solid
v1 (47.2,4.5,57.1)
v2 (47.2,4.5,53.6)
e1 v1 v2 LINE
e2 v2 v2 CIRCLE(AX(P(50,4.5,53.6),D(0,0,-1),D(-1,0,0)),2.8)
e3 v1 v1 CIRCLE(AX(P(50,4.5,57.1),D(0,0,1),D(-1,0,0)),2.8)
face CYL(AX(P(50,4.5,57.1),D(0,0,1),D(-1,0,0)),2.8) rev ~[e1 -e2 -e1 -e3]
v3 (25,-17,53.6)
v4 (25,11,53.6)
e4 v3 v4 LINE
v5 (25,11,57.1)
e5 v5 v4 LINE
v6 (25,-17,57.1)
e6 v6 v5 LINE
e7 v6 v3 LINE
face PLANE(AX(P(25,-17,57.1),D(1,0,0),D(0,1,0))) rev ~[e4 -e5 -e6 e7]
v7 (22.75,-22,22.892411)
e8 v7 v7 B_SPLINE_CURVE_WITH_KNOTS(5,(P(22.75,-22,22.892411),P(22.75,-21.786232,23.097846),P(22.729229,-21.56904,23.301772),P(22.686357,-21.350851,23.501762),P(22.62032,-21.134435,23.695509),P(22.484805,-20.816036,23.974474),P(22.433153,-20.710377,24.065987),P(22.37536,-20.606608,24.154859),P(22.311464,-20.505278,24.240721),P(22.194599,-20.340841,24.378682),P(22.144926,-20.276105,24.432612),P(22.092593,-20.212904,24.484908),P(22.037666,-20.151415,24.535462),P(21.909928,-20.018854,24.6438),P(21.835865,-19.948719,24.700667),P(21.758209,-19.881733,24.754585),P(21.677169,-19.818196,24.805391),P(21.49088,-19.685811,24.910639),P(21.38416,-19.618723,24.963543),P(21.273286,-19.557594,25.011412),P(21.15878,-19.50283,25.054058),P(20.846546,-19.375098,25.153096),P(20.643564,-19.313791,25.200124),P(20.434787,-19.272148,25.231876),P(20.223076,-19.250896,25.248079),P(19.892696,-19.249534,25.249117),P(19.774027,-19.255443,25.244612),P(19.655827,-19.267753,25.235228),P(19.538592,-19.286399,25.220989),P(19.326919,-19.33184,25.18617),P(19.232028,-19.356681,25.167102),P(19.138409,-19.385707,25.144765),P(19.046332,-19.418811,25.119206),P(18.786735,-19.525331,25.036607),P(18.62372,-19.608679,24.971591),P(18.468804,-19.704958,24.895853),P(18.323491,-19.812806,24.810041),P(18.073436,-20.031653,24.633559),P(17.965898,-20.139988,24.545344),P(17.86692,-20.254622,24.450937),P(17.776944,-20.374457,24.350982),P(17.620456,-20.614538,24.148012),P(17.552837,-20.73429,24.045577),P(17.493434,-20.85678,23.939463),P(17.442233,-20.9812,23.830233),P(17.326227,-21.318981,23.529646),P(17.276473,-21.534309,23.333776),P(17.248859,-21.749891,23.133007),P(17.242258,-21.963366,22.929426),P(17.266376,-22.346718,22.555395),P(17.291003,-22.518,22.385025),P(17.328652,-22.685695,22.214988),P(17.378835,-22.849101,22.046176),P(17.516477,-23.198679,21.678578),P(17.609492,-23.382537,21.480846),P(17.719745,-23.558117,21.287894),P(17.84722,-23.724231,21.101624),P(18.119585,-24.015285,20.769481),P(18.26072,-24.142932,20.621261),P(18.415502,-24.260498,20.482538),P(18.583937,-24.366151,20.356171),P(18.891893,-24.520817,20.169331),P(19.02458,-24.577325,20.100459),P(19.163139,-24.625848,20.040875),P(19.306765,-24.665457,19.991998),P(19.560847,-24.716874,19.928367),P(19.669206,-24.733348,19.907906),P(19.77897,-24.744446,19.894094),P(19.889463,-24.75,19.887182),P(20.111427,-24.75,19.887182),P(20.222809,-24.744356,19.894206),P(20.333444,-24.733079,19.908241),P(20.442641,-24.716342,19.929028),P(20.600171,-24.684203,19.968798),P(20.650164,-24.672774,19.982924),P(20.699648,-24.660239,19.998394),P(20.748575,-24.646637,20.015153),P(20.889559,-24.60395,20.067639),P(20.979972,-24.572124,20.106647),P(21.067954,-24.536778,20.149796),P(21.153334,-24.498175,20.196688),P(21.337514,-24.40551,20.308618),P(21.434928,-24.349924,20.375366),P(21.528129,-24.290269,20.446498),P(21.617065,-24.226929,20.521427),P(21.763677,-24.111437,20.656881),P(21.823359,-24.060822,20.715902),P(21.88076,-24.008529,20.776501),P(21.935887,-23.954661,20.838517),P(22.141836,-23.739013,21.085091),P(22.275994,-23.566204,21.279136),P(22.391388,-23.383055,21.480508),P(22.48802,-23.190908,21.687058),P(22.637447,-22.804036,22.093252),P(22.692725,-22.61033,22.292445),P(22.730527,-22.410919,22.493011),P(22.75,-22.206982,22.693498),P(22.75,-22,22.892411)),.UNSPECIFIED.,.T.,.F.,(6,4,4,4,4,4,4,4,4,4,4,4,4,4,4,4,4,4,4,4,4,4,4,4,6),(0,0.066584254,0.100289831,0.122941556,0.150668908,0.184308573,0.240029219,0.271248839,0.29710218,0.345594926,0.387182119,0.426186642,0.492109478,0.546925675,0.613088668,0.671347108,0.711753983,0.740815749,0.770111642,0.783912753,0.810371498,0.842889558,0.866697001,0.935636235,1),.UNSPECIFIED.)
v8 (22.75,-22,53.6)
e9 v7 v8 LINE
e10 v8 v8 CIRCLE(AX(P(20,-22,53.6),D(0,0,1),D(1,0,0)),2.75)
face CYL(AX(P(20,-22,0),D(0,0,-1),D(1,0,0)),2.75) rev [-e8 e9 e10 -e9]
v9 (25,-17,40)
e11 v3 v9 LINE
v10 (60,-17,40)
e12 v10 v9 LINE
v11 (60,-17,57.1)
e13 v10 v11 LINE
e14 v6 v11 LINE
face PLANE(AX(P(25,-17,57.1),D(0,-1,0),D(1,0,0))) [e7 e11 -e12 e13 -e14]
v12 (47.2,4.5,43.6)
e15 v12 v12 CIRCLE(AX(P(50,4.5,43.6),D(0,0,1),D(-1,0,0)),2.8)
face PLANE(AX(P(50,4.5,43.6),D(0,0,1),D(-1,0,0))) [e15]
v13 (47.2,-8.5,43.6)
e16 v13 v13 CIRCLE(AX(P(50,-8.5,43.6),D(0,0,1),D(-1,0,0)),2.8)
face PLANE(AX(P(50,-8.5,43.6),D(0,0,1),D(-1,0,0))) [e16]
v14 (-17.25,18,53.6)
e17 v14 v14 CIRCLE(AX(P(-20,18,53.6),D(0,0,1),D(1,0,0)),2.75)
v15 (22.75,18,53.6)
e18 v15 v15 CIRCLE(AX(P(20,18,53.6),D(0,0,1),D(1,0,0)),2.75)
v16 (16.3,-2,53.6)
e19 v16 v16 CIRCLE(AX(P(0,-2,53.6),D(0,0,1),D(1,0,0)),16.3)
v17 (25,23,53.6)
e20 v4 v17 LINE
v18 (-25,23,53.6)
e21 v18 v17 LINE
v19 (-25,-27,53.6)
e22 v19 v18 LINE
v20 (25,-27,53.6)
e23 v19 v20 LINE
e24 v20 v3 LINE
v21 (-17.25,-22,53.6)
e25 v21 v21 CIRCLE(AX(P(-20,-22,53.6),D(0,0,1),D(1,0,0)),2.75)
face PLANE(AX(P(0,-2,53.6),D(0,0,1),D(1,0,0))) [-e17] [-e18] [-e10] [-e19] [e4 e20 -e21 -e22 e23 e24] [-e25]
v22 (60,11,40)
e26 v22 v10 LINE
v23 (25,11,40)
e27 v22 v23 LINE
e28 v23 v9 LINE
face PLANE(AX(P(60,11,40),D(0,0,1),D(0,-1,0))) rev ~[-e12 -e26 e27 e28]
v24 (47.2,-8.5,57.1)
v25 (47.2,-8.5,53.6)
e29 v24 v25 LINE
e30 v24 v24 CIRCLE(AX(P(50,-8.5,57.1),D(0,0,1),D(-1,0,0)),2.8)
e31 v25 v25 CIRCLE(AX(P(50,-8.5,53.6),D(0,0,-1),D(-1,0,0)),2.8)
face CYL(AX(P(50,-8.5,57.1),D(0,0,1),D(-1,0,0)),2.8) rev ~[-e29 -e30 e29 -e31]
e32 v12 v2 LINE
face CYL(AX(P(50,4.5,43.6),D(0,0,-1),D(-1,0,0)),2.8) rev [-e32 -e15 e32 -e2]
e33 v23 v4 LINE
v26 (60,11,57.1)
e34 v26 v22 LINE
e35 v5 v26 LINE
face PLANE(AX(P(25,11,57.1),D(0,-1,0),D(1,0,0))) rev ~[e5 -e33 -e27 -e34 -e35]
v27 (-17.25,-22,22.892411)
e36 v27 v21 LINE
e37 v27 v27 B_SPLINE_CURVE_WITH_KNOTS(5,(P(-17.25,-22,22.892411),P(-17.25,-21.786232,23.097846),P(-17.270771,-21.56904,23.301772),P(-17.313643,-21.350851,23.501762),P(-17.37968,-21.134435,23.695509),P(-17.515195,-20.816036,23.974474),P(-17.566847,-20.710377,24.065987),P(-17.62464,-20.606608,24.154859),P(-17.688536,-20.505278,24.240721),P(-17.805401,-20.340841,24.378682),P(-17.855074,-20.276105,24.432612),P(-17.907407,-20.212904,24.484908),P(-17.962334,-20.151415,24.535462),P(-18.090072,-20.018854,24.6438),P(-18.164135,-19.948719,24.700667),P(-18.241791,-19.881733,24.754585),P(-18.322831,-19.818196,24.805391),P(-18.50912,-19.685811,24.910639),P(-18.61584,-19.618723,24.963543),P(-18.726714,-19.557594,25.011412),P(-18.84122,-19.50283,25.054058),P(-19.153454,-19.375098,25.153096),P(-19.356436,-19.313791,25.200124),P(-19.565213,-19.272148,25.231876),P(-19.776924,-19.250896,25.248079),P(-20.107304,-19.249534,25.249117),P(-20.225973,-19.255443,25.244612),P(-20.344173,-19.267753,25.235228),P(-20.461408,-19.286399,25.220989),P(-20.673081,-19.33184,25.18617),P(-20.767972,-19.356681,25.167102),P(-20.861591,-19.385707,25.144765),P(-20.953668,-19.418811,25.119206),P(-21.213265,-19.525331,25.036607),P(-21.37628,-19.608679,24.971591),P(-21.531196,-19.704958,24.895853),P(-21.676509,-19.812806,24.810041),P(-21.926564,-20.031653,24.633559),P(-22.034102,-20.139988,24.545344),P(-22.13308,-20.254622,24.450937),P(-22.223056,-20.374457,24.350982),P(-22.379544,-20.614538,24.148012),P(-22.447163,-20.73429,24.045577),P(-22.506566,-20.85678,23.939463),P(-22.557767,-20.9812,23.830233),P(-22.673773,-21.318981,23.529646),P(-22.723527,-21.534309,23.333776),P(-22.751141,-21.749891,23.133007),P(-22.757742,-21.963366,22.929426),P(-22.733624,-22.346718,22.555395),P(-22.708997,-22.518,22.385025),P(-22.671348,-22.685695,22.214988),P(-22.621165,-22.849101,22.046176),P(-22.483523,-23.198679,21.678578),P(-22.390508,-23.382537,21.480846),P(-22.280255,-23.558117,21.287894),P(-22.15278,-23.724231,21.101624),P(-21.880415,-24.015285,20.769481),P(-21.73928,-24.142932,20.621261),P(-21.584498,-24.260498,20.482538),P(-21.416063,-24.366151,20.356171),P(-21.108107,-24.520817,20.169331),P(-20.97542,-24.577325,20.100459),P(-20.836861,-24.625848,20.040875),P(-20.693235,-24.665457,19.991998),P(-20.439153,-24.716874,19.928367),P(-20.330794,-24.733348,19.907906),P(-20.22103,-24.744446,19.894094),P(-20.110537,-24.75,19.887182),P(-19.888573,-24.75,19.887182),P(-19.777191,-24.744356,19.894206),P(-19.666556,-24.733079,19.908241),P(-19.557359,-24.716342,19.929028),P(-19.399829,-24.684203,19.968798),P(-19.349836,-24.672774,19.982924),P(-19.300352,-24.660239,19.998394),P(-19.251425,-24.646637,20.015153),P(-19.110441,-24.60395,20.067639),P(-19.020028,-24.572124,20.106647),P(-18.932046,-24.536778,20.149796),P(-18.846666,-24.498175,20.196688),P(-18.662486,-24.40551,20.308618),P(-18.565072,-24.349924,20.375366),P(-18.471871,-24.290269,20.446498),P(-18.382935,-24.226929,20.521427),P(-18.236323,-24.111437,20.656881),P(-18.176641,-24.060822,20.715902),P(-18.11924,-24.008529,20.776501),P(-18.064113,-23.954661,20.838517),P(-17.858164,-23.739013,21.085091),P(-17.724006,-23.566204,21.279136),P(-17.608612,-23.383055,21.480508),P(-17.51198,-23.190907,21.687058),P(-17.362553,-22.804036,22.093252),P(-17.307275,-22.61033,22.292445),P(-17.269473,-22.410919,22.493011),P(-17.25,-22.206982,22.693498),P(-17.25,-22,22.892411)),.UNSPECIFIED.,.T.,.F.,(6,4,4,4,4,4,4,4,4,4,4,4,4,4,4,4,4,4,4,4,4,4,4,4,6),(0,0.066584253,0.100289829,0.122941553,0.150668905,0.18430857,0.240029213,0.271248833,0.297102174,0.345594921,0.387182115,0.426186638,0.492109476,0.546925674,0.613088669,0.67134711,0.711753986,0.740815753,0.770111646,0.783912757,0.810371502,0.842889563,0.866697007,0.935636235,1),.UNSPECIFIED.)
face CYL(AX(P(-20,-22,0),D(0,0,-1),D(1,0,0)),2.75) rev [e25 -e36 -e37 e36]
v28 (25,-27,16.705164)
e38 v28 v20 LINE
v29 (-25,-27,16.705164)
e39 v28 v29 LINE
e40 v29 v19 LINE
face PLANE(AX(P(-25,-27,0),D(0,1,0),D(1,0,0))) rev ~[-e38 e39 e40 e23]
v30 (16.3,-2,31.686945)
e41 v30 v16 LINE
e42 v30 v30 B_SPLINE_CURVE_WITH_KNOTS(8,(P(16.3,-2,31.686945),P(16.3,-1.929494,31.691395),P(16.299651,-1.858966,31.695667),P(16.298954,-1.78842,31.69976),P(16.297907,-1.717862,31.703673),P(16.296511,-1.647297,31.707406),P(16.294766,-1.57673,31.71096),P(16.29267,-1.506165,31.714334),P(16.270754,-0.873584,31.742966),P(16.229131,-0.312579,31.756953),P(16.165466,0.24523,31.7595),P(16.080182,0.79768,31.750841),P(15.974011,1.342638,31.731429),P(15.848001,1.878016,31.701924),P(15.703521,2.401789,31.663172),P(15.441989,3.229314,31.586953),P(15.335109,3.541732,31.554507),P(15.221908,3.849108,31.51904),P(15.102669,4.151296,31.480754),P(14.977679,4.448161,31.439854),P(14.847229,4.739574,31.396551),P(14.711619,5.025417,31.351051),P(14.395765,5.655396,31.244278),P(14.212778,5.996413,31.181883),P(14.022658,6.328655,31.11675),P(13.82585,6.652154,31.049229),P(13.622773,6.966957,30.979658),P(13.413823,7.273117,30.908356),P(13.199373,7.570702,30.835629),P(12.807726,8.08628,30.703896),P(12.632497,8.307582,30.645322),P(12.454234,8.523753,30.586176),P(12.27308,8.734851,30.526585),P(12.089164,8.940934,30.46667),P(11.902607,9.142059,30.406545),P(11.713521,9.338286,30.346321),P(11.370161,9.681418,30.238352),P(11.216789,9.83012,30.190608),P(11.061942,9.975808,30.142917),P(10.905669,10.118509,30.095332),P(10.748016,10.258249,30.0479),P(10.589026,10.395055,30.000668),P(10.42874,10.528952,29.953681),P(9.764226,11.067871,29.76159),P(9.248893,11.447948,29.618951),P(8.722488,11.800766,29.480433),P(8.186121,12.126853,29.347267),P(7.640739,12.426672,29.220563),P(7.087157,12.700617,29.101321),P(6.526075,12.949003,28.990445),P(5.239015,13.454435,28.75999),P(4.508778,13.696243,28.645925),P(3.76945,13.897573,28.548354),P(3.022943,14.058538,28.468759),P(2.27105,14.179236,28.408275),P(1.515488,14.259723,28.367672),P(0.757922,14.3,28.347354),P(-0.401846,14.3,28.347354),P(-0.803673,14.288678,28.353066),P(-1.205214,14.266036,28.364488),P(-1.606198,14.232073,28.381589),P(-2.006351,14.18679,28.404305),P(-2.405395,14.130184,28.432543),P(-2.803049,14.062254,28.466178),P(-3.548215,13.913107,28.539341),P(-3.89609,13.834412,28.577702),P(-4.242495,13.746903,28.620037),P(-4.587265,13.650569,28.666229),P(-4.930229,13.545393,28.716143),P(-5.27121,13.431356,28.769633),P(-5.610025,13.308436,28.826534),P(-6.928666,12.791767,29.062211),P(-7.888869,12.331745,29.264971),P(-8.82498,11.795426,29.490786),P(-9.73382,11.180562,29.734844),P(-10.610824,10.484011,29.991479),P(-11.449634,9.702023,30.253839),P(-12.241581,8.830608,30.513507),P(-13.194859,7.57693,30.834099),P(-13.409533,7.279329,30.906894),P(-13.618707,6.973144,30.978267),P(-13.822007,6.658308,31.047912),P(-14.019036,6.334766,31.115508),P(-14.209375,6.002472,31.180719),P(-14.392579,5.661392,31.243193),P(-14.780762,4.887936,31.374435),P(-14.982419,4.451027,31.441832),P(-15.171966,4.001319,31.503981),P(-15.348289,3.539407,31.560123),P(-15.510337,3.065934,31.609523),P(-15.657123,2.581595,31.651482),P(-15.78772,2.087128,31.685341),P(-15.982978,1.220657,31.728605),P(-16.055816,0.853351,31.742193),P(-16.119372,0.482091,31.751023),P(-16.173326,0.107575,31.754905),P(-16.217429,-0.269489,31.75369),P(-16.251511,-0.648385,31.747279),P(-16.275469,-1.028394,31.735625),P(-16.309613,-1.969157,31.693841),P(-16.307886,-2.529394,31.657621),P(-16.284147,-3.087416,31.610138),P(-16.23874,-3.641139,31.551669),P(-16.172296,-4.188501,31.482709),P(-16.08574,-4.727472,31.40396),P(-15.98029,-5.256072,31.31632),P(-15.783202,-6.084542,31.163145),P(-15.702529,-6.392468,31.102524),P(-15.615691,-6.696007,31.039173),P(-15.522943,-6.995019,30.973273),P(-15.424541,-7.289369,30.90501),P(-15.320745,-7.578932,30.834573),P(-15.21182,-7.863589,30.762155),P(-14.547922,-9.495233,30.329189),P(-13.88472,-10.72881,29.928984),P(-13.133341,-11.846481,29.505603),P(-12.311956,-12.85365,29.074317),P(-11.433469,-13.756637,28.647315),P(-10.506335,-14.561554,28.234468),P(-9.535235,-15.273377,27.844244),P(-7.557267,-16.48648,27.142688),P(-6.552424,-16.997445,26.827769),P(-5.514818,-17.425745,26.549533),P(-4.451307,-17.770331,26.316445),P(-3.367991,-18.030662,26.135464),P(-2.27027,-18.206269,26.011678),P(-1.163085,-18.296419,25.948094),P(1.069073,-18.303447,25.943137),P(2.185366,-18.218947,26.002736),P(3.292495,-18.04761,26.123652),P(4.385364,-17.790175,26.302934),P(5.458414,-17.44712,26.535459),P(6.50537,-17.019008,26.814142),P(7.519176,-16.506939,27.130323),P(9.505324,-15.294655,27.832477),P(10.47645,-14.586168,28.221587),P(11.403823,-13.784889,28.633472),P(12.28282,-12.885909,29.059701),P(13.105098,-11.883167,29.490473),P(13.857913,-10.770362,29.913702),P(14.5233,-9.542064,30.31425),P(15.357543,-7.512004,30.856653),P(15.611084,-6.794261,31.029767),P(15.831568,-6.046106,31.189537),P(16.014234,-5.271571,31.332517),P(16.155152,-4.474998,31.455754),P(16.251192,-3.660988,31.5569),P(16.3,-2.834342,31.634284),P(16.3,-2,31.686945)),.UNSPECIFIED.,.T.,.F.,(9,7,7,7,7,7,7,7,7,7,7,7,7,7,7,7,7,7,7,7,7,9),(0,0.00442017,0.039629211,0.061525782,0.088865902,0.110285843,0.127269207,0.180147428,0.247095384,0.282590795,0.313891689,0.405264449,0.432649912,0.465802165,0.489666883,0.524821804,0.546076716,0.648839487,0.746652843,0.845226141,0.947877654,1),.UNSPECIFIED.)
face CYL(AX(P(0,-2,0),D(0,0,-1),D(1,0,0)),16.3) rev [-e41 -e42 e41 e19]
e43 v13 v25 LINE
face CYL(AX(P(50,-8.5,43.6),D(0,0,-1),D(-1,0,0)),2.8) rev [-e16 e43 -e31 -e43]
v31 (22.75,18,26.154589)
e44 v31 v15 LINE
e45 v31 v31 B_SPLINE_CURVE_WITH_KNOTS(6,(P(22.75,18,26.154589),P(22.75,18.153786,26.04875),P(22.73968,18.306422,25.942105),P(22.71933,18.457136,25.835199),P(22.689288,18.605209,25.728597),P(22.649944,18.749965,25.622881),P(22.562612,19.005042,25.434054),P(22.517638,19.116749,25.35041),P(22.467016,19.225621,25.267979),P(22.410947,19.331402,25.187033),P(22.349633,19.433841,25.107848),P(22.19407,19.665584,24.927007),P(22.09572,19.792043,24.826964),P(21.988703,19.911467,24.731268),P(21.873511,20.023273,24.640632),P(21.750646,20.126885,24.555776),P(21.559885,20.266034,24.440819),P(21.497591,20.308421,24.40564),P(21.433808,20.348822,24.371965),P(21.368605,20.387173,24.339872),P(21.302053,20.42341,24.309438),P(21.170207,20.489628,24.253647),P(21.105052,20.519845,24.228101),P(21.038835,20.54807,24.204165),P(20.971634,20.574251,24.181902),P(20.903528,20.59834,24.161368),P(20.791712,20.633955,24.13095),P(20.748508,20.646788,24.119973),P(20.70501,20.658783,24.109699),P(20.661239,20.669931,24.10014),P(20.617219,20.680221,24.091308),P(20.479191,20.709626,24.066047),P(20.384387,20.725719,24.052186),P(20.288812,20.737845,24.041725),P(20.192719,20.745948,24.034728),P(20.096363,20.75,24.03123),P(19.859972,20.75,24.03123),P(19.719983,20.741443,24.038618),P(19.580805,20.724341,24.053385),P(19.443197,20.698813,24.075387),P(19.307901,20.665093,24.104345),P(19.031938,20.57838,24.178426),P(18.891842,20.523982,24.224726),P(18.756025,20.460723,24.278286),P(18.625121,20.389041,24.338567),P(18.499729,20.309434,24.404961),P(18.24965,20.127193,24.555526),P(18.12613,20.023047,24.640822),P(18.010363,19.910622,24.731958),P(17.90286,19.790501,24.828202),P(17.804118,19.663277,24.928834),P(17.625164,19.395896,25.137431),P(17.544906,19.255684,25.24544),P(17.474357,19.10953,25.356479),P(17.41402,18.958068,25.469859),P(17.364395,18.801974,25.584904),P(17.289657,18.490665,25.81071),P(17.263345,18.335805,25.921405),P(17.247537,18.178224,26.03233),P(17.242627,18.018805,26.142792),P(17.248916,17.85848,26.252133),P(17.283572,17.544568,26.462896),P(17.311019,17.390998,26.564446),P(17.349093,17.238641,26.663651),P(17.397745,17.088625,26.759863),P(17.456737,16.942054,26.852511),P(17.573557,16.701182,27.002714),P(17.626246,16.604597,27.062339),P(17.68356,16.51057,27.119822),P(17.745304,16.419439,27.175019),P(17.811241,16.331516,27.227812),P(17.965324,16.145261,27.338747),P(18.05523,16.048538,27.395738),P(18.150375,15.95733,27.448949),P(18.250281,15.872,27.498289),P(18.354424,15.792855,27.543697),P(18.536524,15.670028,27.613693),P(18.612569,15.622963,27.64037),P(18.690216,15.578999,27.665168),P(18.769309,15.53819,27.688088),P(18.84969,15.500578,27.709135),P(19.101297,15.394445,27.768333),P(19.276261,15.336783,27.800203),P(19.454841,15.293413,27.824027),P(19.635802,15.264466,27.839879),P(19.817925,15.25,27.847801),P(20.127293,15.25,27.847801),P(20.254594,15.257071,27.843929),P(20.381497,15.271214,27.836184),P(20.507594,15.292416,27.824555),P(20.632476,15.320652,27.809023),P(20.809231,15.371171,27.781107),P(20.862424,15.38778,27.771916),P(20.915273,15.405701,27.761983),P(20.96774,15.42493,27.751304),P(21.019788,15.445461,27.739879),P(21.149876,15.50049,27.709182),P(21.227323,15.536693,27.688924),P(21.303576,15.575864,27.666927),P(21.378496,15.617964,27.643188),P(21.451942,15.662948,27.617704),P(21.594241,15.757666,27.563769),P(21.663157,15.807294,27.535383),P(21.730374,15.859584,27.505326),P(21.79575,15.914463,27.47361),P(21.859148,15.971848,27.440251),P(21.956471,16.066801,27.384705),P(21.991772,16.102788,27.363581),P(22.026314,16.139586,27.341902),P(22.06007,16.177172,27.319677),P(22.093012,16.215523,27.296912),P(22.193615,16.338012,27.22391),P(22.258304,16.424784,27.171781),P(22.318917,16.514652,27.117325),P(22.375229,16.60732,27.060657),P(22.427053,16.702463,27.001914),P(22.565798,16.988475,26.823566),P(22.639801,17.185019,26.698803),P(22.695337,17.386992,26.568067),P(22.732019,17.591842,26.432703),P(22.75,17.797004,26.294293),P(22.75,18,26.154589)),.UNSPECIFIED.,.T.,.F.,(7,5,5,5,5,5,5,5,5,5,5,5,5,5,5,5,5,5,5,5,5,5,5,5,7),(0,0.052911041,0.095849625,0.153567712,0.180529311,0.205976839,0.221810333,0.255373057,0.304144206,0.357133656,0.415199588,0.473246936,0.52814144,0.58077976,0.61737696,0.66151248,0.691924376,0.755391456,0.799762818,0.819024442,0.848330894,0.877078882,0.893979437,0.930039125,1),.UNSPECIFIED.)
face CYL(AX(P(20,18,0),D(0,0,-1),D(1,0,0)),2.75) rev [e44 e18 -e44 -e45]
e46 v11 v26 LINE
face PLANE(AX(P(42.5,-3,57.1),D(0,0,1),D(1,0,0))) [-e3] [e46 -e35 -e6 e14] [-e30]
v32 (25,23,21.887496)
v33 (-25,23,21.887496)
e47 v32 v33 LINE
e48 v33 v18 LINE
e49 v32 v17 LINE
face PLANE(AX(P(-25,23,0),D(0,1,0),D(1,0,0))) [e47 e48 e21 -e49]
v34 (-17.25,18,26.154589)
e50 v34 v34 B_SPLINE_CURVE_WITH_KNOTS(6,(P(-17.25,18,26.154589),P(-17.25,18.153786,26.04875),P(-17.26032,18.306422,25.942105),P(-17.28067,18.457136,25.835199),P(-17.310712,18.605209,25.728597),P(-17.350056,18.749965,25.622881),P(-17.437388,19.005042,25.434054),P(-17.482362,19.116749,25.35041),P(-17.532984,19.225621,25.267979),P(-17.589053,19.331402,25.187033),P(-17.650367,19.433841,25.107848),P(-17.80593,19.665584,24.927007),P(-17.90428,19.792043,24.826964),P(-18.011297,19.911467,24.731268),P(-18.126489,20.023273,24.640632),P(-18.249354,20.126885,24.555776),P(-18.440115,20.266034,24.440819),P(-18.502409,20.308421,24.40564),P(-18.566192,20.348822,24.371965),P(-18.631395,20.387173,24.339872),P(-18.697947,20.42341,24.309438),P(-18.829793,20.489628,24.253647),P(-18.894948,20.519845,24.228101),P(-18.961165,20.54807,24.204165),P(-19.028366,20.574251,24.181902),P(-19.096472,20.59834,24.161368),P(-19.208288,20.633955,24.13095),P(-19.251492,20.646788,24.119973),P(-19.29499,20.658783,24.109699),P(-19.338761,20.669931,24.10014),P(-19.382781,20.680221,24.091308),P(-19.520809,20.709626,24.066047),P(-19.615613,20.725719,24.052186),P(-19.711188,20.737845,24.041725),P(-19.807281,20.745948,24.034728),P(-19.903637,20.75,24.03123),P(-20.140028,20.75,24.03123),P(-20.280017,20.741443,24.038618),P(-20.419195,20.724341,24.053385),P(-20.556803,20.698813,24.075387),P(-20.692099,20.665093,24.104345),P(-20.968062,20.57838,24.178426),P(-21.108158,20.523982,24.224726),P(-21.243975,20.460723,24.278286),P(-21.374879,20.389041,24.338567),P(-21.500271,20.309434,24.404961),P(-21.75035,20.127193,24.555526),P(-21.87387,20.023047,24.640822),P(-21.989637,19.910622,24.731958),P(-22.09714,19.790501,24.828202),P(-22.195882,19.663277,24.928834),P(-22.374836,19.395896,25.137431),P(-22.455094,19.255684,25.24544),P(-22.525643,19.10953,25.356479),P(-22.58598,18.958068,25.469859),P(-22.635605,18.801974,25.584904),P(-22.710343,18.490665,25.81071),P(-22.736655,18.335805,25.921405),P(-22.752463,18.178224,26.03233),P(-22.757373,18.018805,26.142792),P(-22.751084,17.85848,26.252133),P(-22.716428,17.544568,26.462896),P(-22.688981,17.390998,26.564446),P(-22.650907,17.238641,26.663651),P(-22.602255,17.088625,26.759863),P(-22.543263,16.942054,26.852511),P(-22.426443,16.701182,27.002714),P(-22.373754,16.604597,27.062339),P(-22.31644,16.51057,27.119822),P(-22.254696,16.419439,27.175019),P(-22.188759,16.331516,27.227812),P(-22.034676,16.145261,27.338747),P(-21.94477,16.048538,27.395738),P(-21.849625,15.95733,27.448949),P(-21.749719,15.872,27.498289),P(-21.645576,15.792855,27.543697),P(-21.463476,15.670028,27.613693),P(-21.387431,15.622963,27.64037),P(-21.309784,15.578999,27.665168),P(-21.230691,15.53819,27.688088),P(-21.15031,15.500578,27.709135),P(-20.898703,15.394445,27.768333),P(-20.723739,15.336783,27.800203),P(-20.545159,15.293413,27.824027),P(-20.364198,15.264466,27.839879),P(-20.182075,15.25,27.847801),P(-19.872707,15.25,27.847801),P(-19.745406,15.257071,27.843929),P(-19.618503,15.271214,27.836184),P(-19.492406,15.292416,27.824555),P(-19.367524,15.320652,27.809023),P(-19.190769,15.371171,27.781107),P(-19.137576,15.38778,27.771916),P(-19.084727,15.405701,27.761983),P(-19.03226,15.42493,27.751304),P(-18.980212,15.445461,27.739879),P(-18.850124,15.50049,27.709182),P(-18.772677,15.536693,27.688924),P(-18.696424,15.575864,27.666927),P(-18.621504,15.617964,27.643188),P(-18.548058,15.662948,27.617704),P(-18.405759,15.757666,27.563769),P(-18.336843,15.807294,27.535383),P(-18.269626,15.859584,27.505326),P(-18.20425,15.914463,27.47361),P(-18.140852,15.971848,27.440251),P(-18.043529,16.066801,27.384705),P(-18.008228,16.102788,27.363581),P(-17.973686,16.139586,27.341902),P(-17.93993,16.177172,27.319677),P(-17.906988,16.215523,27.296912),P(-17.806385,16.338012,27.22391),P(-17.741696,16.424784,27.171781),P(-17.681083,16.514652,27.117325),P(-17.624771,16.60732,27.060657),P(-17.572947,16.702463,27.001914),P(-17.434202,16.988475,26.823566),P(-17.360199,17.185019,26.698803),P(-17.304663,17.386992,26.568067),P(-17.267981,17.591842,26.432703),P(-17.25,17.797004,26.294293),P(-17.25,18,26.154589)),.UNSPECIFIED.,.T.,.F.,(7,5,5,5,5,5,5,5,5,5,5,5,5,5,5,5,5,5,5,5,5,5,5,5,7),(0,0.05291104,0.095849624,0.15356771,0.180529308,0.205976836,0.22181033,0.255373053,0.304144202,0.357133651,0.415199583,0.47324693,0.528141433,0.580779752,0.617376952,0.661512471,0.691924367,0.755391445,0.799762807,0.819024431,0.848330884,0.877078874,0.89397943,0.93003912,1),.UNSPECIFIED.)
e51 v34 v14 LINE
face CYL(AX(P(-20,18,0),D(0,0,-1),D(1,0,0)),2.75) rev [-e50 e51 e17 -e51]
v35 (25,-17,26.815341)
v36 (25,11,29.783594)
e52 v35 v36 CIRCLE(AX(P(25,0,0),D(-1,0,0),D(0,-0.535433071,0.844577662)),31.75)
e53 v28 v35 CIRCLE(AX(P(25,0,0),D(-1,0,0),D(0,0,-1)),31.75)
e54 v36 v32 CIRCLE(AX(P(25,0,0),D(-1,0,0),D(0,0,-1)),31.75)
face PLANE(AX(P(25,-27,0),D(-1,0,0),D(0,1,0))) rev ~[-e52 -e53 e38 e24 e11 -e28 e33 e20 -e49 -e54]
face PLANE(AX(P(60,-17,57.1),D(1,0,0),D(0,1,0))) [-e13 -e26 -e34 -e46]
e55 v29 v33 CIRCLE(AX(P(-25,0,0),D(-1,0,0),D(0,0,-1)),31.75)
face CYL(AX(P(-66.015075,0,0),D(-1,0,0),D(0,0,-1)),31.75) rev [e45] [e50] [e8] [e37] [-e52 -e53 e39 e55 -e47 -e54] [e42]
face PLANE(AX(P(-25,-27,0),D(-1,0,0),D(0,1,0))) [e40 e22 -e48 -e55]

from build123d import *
from build123d.topology import SkipClean

# Parameters (mm, degrees)
SKETCH1_W               = 50
SKETCH1_H               = 50
SKETCH1_R               = 16.3
SKETCH1_R_2             = 2.75
BOSS_EXTRUDE1_DEPTH     = 53.6
CUT_EXTRUDE1_DEPTH      = 66.015075175
CUT_EXTRUDE1_DEPTH_BACK = 66.015075175
SKETCH2_R               = 31.75
BOSS_EXTRUDE3_START     = 35
BOSS_EXTRUDE3_DEPTH     = 35
CUT_EXTRUDE6_DEPTH      = 76.433606209
CUT_EXTRUDE6_DEPTH_BACK = 10
SKETCH10_R              = 2.8
CUT_EXTRUDE8_DEPTH      = 35
BOSS_EXTRUDE4_START     = 3.5
SKETCH16_W              = 35
SKETCH16_H              = 28
SKETCH16_R              = 2.8
BOSS_EXTRUDE4_DEPTH     = 3.5


with BuildPart() as part:
    # Sketch1 → Boss-Extrude1 (new body)
    with BuildSketch(Plane.XY):
        with Locations((0, -2)):
            Rectangle(SKETCH1_W, SKETCH1_H)
        with Locations((0, -2)):
            Circle(SKETCH1_R, mode=Mode.SUBTRACT)
        with Locations((-20, 18)):
            Circle(SKETCH1_R_2, mode=Mode.SUBTRACT)
        with Locations((20, 18)):
            Circle(SKETCH1_R_2, mode=Mode.SUBTRACT)
        with Locations((20, -22)):
            Circle(SKETCH1_R_2, mode=Mode.SUBTRACT)
        with Locations((-20, -22)):
            Circle(SKETCH1_R_2, mode=Mode.SUBTRACT)
    extrude(amount=BOSS_EXTRUDE1_DEPTH)

    # Sketch2 → Cut-Extrude1 (cut, two sides: drawn at the far end of the back side and taken through both)
    with BuildSketch(Plane(origin=(0, 0, 0), x_dir=(0, 0, -1), z_dir=(1, 0, 0)).offset(-CUT_EXTRUDE1_DEPTH_BACK)):
        Circle(SKETCH2_R)
    extrude(amount=CUT_EXTRUDE1_DEPTH + CUT_EXTRUDE1_DEPTH_BACK, mode=Mode.SUBTRACT)

    # Sketch4 → Boss-Extrude3 (add)
    with SkipClean():  # the faces are left unmerged after this step: merging them gives an invalid solid
        with BuildSketch(Plane(origin=(25, 0, 0), x_dir=(0, 0, -1), z_dir=(1, 0, 0)).offset(BOSS_EXTRUDE3_START)):
            with BuildLine():
                Line((-53.6, 11), (-53.6, -17))
                Line((-53.6, -17), (-26.815340759, -17))
                ThreePointArc((-26.815340759, -17), (-31.573087709, -3.347033393), (-29.783594477, 11))
                Line((-29.783594477, 11), (-53.6, 11))
            make_face()
        extrude(amount=-BOSS_EXTRUDE3_DEPTH)

    # Sketch10 → Cut-Extrude6 (cut, two sides: drawn at the far end of the back side and taken through both)
    with SkipClean():  # the faces are left unmerged after this step: merging them gives an invalid solid
        with BuildSketch(Plane.XY.offset(53.6).offset(-CUT_EXTRUDE6_DEPTH_BACK)):
            with Locations(Location((50, 4.5, 0), (0, 0, 180))):
                Circle(SKETCH10_R)
            with Locations(Location((50, -8.5, 0), (0, 0, 180))):
                Circle(SKETCH10_R)
        extrude(amount=CUT_EXTRUDE6_DEPTH + CUT_EXTRUDE6_DEPTH_BACK, mode=Mode.SUBTRACT)

    # Sketch13 → Cut-Extrude8 (cut)
    with BuildSketch(Plane(origin=(60, 0, 0), x_dir=(0, 0, -1), z_dir=(1, 0, 0))):
        with BuildLine():
            Line((-29.783594477, 11), (-40, 11))
            Line((-40, 11), (-40, -17))
            Line((-40, -17), (-26.815340759, -17))
            ThreePointArc((-26.815340759, -17), (-31.573087709, -3.347033393), (-29.783594477, 11))
        make_face()
    extrude(amount=-CUT_EXTRUDE8_DEPTH, mode=Mode.SUBTRACT)

    # Sketch16 → Boss-Extrude4 (add)
    with BuildSketch(Plane.XY.offset(53.6).offset(BOSS_EXTRUDE4_START)):
        with Locations((42.5, -3)):
            Rectangle(SKETCH16_W, SKETCH16_H)
        with Locations(Location((50, 4.5, 0), (0, 0, 180))):
            Circle(SKETCH16_R, mode=Mode.SUBTRACT)
        with Locations(Location((50, -8.5, 0), (0, 0, 180))):
            Circle(SKETCH16_R, mode=Mode.SUBTRACT)
    extrude(amount=-BOSS_EXTRUDE4_DEPTH)


solid = part.part
